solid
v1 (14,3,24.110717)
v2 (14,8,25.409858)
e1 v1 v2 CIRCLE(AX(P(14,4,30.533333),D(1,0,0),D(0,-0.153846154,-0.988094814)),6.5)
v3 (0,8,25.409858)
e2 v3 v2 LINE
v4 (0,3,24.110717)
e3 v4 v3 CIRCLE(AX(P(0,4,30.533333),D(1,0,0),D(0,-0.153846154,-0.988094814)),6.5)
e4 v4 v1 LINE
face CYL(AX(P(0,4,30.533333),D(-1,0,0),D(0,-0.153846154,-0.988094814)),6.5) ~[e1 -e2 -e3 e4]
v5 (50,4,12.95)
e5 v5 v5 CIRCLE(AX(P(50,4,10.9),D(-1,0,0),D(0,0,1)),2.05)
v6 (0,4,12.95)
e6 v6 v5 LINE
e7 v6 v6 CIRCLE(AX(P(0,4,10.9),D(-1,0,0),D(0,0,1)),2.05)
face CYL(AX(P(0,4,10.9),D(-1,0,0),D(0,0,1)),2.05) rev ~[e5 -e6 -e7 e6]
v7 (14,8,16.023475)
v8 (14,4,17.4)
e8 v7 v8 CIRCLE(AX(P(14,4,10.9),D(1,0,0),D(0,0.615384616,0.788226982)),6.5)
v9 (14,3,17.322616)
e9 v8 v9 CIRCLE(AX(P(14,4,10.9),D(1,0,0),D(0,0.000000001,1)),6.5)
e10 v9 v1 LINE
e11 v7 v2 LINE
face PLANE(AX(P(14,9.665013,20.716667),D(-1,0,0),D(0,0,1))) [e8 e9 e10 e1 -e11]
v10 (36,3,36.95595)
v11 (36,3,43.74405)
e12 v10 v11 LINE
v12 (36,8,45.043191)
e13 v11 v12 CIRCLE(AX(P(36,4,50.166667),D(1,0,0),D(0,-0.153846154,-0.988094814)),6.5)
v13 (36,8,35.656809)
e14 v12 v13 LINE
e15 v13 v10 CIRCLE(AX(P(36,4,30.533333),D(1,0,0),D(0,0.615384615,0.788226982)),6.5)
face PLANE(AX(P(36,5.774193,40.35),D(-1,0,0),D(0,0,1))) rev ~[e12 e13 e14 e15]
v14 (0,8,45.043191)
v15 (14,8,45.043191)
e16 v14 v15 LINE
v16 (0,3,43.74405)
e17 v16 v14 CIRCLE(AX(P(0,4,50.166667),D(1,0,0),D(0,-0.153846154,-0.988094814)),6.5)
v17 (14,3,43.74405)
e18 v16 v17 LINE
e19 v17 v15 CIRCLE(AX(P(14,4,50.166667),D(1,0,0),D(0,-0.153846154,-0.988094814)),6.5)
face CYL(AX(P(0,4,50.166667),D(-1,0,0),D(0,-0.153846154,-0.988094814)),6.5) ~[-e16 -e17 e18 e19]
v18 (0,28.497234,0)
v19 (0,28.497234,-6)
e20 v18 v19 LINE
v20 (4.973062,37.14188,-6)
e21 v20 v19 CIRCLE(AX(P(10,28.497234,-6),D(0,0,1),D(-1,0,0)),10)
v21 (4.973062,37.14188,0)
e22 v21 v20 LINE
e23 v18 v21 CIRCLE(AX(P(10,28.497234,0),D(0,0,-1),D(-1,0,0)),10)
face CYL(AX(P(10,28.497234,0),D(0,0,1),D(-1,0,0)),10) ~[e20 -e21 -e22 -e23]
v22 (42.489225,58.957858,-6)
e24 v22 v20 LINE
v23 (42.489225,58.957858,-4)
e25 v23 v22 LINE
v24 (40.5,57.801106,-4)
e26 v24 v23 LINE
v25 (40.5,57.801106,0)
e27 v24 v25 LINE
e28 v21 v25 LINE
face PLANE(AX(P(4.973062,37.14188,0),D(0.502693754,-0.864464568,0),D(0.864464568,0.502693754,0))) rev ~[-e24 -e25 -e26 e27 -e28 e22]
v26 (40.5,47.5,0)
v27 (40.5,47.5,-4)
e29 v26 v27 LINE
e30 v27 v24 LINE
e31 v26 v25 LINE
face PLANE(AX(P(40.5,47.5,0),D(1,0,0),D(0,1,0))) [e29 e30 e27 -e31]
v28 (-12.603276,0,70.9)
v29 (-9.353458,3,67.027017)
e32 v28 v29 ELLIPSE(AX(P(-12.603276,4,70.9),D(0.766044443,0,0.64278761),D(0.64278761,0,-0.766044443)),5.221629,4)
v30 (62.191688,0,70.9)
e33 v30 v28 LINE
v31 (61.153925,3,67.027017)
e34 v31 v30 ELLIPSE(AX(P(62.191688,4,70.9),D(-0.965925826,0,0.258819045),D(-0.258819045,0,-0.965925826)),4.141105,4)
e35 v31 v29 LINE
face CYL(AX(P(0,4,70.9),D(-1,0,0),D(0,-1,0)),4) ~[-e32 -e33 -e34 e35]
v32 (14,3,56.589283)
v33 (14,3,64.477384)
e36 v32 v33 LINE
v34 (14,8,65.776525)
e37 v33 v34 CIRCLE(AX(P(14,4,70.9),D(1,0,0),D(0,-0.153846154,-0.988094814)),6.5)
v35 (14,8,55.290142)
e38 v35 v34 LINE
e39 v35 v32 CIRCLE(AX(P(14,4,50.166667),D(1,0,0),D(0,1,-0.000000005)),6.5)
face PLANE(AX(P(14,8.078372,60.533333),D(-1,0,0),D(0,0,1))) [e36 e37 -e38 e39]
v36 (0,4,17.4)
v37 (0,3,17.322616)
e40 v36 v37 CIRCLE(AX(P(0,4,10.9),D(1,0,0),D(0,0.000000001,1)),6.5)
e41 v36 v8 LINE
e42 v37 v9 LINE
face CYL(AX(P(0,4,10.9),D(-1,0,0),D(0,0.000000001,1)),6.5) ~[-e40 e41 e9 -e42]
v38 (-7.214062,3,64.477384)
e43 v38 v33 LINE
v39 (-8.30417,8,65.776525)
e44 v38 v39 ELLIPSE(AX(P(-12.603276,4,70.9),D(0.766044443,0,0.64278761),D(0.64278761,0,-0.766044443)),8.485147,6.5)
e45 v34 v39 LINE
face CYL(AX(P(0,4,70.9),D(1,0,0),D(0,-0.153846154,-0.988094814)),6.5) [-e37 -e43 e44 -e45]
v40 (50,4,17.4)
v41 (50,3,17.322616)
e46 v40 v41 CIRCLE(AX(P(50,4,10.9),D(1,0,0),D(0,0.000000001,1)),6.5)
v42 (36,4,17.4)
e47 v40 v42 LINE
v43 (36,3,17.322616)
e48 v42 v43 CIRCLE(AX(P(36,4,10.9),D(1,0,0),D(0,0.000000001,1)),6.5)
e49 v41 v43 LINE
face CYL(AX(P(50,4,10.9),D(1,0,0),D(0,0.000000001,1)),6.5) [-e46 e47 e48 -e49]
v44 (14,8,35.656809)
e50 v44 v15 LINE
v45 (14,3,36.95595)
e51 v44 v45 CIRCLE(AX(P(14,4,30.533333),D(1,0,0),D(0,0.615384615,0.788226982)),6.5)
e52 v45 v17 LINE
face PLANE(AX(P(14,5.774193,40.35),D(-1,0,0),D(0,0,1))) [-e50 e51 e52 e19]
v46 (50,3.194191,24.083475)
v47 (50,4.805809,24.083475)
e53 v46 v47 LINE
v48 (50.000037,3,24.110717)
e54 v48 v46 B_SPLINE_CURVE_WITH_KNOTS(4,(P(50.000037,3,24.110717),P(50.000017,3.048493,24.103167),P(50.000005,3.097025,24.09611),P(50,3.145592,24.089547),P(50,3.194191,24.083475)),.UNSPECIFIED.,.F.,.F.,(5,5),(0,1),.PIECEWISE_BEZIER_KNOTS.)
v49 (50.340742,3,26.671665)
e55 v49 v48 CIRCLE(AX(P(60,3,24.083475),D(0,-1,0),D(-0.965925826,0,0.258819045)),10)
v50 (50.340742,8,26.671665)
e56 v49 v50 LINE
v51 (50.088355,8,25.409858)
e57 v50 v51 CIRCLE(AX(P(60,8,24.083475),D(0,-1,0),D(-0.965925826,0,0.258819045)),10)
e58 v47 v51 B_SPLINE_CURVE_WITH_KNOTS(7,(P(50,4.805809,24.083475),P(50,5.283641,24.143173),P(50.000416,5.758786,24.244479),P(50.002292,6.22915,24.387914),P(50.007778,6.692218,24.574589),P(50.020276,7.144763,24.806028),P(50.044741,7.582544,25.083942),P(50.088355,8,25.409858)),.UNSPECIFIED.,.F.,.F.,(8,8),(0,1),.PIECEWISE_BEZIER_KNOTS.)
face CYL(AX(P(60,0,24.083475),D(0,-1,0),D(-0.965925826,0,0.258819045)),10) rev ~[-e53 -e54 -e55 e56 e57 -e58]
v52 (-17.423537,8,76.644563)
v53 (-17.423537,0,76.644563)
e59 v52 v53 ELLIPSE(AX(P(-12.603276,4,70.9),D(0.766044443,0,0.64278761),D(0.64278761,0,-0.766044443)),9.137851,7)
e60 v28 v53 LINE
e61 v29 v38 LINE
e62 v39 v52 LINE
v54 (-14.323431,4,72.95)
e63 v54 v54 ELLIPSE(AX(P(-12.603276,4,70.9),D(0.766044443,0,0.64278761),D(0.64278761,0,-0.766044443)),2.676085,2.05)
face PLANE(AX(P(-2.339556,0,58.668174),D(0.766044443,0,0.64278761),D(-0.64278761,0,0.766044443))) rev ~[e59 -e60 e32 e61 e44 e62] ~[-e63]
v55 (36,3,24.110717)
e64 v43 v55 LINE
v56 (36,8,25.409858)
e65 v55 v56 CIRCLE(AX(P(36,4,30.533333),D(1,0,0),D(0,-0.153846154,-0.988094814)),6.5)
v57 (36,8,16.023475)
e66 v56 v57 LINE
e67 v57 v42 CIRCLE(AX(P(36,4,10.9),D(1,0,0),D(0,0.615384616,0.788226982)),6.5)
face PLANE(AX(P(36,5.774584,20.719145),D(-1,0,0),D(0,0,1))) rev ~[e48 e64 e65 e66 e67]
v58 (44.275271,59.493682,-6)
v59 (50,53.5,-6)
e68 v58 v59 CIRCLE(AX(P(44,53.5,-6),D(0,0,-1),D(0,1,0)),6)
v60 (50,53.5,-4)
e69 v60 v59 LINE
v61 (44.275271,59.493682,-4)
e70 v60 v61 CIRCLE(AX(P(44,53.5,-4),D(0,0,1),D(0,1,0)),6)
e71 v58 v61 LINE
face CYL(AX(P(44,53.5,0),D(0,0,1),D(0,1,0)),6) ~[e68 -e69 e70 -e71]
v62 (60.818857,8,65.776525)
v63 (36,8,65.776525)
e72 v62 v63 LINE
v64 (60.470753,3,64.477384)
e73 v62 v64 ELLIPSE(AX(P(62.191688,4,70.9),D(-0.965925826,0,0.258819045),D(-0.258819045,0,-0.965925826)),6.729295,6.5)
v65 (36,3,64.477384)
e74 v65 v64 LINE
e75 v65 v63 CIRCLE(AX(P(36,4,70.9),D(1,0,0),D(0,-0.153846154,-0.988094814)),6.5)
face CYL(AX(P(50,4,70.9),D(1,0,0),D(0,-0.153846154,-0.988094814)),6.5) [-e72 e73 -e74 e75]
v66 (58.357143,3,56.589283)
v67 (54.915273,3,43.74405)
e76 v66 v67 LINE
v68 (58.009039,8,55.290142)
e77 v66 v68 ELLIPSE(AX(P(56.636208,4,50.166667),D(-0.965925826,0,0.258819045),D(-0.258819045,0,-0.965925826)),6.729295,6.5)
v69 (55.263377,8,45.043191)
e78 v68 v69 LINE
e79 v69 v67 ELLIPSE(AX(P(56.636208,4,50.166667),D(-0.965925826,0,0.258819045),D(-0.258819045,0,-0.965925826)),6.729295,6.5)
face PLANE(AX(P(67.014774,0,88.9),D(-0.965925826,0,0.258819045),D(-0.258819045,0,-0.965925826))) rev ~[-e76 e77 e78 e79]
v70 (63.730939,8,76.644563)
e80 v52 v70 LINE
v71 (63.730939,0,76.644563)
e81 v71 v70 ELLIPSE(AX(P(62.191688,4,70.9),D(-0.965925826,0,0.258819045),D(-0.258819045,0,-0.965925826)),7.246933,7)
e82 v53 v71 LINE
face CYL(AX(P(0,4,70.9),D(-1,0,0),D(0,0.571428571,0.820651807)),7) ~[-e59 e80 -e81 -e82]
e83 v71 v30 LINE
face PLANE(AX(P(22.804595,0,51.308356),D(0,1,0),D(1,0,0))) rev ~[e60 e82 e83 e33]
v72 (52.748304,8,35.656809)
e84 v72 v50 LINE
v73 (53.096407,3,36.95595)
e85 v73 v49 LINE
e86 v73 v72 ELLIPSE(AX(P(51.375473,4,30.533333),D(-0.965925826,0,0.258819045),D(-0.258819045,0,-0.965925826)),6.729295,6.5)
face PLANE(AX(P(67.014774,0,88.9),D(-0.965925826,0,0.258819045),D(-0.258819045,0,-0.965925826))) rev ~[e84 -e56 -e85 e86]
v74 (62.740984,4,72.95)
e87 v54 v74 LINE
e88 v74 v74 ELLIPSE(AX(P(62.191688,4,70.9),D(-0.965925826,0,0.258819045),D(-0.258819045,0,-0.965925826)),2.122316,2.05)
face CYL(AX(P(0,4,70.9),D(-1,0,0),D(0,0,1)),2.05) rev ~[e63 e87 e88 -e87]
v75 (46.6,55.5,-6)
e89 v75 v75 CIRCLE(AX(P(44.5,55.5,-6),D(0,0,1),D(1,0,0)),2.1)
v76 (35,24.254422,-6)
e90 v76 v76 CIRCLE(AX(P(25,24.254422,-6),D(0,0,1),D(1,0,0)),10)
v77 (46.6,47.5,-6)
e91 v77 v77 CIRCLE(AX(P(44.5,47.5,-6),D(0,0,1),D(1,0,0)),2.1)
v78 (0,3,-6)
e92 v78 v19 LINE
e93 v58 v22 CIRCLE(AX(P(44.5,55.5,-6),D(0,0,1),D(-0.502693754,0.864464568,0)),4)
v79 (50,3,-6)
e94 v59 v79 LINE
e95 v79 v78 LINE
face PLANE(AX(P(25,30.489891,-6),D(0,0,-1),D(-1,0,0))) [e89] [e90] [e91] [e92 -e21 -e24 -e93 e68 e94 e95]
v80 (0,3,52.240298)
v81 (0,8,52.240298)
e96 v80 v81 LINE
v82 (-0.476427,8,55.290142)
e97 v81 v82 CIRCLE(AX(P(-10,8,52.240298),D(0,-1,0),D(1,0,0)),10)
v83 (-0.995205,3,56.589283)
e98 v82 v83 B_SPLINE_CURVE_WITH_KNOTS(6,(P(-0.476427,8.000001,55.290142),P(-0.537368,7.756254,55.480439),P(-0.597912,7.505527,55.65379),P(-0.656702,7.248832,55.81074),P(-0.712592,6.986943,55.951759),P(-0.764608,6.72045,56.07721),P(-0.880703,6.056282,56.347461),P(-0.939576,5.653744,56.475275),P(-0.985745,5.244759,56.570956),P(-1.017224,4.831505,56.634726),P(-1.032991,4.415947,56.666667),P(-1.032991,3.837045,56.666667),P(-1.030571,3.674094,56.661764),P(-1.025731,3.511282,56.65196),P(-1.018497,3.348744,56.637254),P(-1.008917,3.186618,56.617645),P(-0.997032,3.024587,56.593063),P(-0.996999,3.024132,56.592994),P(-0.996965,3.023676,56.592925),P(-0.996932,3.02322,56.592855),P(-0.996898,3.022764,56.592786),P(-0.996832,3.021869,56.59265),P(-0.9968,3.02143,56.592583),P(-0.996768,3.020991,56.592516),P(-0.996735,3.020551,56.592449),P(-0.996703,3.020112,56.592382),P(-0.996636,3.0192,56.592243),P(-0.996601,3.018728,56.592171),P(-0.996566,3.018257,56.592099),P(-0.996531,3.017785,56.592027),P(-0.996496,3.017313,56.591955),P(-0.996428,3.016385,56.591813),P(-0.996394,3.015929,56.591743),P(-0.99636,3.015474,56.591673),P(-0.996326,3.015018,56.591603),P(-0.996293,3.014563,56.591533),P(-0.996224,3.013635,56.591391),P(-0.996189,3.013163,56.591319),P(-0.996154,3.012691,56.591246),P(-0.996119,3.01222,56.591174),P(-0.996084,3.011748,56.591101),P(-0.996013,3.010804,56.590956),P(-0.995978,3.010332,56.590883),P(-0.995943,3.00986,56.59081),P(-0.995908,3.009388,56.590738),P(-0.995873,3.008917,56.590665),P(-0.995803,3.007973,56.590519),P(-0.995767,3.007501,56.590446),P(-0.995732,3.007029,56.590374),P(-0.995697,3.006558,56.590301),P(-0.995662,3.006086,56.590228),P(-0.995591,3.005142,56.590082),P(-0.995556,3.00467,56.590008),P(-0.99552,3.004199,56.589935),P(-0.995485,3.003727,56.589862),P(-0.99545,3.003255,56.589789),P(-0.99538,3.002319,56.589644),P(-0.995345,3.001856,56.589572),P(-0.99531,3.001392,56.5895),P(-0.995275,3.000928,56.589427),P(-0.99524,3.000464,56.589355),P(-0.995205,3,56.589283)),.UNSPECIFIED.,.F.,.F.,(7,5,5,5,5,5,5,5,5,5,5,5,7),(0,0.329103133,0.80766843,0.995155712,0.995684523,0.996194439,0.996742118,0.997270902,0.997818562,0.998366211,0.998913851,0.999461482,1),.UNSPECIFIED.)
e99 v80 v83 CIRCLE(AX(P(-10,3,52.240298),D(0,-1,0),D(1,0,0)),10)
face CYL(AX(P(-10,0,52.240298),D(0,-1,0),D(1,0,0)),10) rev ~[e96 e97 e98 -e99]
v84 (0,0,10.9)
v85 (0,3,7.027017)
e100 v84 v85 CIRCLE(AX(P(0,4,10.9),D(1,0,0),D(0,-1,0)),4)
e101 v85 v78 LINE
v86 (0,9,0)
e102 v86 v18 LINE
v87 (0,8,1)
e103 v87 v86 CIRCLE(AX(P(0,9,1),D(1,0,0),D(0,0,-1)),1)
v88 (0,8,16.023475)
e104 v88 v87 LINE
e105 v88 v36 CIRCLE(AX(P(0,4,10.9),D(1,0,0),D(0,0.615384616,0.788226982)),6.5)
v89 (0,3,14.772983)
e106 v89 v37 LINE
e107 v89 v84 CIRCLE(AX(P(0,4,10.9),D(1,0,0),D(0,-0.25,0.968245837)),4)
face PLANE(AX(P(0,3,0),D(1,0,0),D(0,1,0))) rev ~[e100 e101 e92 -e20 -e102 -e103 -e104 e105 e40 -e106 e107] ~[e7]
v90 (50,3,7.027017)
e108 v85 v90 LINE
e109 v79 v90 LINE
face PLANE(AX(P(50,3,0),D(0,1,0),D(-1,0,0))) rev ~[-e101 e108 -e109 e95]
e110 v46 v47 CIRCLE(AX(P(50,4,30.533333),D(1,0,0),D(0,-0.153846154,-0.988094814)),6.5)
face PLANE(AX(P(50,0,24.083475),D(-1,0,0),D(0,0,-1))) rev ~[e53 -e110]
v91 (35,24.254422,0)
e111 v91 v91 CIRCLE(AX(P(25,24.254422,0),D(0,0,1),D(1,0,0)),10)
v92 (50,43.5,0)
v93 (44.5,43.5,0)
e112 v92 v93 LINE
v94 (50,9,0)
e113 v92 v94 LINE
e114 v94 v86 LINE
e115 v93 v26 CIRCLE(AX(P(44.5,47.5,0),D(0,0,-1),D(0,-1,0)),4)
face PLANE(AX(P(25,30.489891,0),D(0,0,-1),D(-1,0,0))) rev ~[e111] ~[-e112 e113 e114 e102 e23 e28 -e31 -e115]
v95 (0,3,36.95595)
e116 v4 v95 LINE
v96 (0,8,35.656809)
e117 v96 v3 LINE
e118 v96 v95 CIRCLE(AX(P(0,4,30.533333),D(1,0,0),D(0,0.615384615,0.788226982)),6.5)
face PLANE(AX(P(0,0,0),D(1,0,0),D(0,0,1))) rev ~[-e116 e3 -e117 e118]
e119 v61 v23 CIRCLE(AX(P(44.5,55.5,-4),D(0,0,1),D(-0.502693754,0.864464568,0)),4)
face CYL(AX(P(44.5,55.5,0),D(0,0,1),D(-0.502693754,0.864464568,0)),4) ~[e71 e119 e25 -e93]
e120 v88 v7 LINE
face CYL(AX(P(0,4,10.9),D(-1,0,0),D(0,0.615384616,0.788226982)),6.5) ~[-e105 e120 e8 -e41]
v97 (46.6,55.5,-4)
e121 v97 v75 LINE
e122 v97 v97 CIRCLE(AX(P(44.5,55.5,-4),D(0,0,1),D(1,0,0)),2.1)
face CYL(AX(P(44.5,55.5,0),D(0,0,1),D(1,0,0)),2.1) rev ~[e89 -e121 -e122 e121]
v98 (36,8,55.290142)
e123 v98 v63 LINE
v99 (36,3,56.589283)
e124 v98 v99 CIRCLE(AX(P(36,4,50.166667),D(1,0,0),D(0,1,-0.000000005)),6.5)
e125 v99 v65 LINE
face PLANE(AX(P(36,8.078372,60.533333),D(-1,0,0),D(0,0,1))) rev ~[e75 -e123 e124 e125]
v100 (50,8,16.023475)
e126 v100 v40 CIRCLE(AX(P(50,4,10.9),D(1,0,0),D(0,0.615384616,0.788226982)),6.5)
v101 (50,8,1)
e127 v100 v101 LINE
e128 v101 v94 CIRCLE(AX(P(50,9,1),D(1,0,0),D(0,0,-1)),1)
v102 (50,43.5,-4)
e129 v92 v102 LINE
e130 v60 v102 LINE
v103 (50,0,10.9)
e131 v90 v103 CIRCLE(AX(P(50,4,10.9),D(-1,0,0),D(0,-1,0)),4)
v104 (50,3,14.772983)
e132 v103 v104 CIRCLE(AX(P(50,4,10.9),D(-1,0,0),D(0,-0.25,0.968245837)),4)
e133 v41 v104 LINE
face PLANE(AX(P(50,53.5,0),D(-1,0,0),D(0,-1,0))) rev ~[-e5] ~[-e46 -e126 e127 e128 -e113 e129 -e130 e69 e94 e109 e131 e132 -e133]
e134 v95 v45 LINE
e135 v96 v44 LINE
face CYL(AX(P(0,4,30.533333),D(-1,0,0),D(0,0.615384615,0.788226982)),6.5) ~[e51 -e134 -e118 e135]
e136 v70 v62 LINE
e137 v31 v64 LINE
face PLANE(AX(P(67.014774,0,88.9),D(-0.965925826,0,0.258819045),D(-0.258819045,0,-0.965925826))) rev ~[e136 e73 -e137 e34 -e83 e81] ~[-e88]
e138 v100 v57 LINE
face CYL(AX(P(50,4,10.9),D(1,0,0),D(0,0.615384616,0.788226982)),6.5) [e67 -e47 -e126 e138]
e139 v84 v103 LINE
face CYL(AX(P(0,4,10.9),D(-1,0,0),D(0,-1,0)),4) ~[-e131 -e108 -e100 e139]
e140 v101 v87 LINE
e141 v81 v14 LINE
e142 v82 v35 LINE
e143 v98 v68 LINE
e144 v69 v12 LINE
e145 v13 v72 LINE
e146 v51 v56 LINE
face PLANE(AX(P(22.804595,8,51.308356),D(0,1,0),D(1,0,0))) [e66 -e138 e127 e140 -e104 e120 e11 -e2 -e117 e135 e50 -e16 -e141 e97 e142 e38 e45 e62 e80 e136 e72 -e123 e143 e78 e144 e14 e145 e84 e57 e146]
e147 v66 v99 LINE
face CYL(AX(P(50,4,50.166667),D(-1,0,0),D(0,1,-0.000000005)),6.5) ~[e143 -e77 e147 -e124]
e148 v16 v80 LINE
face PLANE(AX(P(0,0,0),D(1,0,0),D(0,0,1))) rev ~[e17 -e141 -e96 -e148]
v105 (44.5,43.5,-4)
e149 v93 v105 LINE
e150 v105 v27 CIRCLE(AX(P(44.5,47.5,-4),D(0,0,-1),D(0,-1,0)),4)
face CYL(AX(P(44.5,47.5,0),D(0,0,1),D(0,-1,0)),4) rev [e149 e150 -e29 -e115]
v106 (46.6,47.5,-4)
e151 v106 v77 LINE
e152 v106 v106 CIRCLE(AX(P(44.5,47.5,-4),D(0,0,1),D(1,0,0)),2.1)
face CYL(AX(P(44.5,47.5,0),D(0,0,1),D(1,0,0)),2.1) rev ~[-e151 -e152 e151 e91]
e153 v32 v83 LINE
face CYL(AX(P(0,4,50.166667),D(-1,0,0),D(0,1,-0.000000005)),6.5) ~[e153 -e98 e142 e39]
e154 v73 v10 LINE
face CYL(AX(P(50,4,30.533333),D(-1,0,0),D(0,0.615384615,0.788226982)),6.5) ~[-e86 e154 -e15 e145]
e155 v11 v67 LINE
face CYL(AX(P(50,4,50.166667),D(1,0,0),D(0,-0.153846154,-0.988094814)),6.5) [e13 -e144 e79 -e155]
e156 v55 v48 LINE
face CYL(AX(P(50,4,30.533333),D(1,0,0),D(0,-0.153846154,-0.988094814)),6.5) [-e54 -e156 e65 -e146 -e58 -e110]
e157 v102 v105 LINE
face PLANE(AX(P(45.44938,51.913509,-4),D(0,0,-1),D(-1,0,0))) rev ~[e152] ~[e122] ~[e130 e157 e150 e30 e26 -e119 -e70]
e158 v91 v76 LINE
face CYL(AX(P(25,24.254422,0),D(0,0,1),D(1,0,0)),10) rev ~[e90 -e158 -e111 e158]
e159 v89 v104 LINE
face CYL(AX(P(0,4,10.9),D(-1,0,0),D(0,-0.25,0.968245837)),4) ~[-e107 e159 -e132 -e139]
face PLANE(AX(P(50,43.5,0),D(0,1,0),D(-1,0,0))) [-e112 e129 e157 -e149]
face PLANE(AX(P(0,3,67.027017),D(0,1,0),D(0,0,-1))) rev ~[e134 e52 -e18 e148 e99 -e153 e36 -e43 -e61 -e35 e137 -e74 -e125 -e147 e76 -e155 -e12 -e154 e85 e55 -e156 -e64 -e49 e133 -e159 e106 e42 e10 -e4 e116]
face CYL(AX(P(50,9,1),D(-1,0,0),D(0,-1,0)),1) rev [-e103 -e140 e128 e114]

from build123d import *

# Parameters (mm, degrees)
BOSS_EXTRUDE1_DEPTH     = 8
SKETCH2_R               = 2.05
CUT_EXTRUDE1_DEPTH      = 28.707069821
CUT_EXTRUDE1_DEPTH_BACK = 68.014773719
CUT_EXTRUDE2_DEPTH      = 28.707069821
CUT_EXTRUDE2_DEPTH_BACK = 68.014773719
CUT_EXTRUDE3_DEPTH      = 19.476973879
CUT_EXTRUDE3_DEPTH_BACK = 14
CUT_EXTRUDE4_START      = -50
CUT_EXTRUDE4_DEPTH      = 14
CUT_EXTRUDE4_DEPTH_BACK = 15.067332603
BOSS_EXTRUDE2_DEPTH     = 6
FILLET8_R               = 1
SKETCH7_R               = 2.1
SKETCH7_R_2             = 10
CUT_EXTRUDE5_DEPTH      = 7
CUT_EXTRUDE6_DEPTH      = 4


with BuildPart() as part:
    # Sketch1 → Boss-Extrude1 (new body)
    with BuildSketch(Plane(origin=(0, 0, 0), x_dir=(1, 0, 0), z_dir=(0, 1, 0))):
        with BuildLine():
            Line((0, 0), (0, -52.240297657))
            ThreePointArc((0, -52.240297657), (-0.603073792, -55.660499091), (-2.339555569, -58.668173754))
            Line((-2.339555569, -58.668173754), (-27.707069821, -88.9))
            Line((-27.707069821, -88.9), (67.014773719, -88.9))
            Line((67.014773719, -88.9), (50.340741737, -26.671665475))
            ThreePointArc((50.340741737, -26.671665475), (50.085551386, -25.388736946), (50, -24.083475024))
            Line((50, -24.083475024), (50, 0))
            Line((50, 0), (0, 0))
        make_face()
    extrude(amount=BOSS_EXTRUDE1_DEPTH)

    # Sketch2 → Cut-Extrude1 (cut, two sides)
    with BuildSketch(Plane.ZY) as cut_extrude1_sk:
        with Locations((10.9, 4)):
            Circle(SKETCH2_R)
        with Locations((70.9, 4)):
            Circle(SKETCH2_R)
    extrude(amount=CUT_EXTRUDE1_DEPTH, mode=Mode.SUBTRACT)
    extrude(cut_extrude1_sk.sketch, amount=-CUT_EXTRUDE1_DEPTH_BACK, mode=Mode.SUBTRACT)

    # Sketch4 → Cut-Extrude2 (cut, two sides)
    with BuildSketch(Plane.ZY) as cut_extrude2_sk:
        with BuildLine():
            Line((67.027016654, 3), (14.772983346, 3))
            ThreePointArc((14.772983346, 3), (13.349489743, 0.83772234), (10.9, 0))
            Line((10.9, 0), (70.9, 0))
            ThreePointArc((70.9, 0), (68.450510257, 0.83772234), (67.027016654, 3))
        make_face()
        with BuildLine():
            Line((0, 0), (10.9, 0))
            ThreePointArc((10.9, 0), (8.450510257, 0.83772234), (7.027016654, 3))
            Line((7.027016654, 3), (0, 3))
            Line((0, 3), (0, 0))
        make_face()
        with BuildLine():
            ThreePointArc((76.644562647, 8), (77.9, 4), (76.644562647, 0))
            Line((76.644562647, 0), (88.9, 0))
            Line((88.9, 0), (88.9, 8))
            Line((88.9, 8), (76.644562647, 8))
        make_face()
    extrude(amount=CUT_EXTRUDE2_DEPTH, mode=Mode.SUBTRACT)
    extrude(cut_extrude2_sk.sketch, amount=-CUT_EXTRUDE2_DEPTH_BACK, mode=Mode.SUBTRACT)

    # Sketch5 → Cut-Extrude3 (cut, two sides)
    with BuildSketch(Plane.ZY) as cut_extrude3_sk:
        with BuildLine():
            Line((30.53333333, 10.5), (10.9, 10.5))
            ThreePointArc((10.9, 10.5), (13.750438563, 9.841660723), (16.023475383, 8))
            Line((16.023475383, 8), (25.409857947, 8))
            ThreePointArc((25.409857947, 8), (27.682894767, 9.841660723), (30.53333333, 10.5))
        make_face()
        with BuildLine():
            Line((25.409857947, 8), (16.023475383, 8))
            ThreePointArc((16.023475383, 8), (17.046242348, 6.115113473), (17.4, 4))
            ThreePointArc((17.4, 4), (17.380625197, 3.498505175), (17.322616289, 3))
            Line((17.322616289, 3), (24.110717041, 3))
            ThreePointArc((24.110717041, 3), (24.242223871, 5.634607529), (25.409857947, 8))
        make_face()
        with BuildLine():
            Line((45.043191277, 8), (35.656808713, 8))
            ThreePointArc((35.656808713, 8), (36.824442789, 5.634607529), (36.955949619, 3))
            Line((36.955949619, 3), (43.744050371, 3))
            ThreePointArc((43.744050371, 3), (43.875557201, 5.634607529), (45.043191277, 8))
        make_face()
        with BuildLine():
            Line((50.166666628, 10.5), (30.53333333, 10.5))
            ThreePointArc((30.53333333, 10.5), (33.383771893, 9.841660723), (35.656808713, 8))
            Line((35.656808713, 8), (45.043191277, 8))
            ThreePointArc((45.043191277, 8), (47.316228083, 9.841660716), (50.166666628, 10.5))
        make_face()
        with BuildLine():
            Line((70.9, 10.5), (50.166666628, 10.5))
            ThreePointArc((50.166666628, 10.5), (55.103771064, 8.227883644), (56.589282949, 3))
            Line((56.589282949, 3), (64.477383711, 3))
            ThreePointArc((64.477383711, 3), (65.962895585, 8.227883631), (70.9, 10.5))
        make_face()
    extrude(amount=CUT_EXTRUDE3_DEPTH, mode=Mode.SUBTRACT)
    extrude(cut_extrude3_sk.sketch, amount=-CUT_EXTRUDE3_DEPTH_BACK, mode=Mode.SUBTRACT)

    # Sketch5<3> → Cut-Extrude4 (cut, two sides)
    with BuildSketch(Plane.ZY.offset(CUT_EXTRUDE4_START)) as cut_extrude4_sk:
        with BuildLine():
            Line((25.409857947, 8), (16.023475383, 8))
            ThreePointArc((16.023475383, 8), (17.046242348, 6.115113473), (17.4, 4))
            ThreePointArc((17.4, 4), (17.380625197, 3.498505175), (17.322616289, 3))
            Line((17.322616289, 3), (24.110717041, 3))
            ThreePointArc((24.110717041, 3), (24.242223871, 5.634607529), (25.409857947, 8))
        make_face()
        with BuildLine():
            Line((45.043191277, 8), (35.656808713, 8))
            ThreePointArc((35.656808713, 8), (36.824442789, 5.634607529), (36.955949619, 3))
            Line((36.955949619, 3), (43.744050371, 3))
            ThreePointArc((43.744050371, 3), (43.875557201, 5.634607529), (45.043191277, 8))
        make_face()
        with BuildLine():
            Line((70.9, 10.5), (50.166666628, 10.5))
            ThreePointArc((50.166666628, 10.5), (55.103771064, 8.227883644), (56.589282949, 3))
            Line((56.589282949, 3), (64.477383711, 3))
            ThreePointArc((64.477383711, 3), (65.962895585, 8.227883631), (70.9, 10.5))
        make_face()
    extrude(amount=CUT_EXTRUDE4_DEPTH, mode=Mode.SUBTRACT)
    extrude(cut_extrude4_sk.sketch, amount=-CUT_EXTRUDE4_DEPTH_BACK, mode=Mode.SUBTRACT)

    # Sketch6 → Boss-Extrude2 (add)
    with BuildSketch(Plane(origin=(0, 0, 0), x_dir=(-1, 0, 0), z_dir=(0, 0, -1))):
        with BuildLine():
            Line((-50, 3), (0, 3))
            Line((0, 3), (0, 53.5))
            ThreePointArc((0, 53.5), (-1.757359313, 57.742640687), (-6, 59.5))
            Line((-6, 59.5), (-44, 59.5))
            ThreePointArc((-44, 59.5), (-48.242640687, 57.742640687), (-50, 53.5))
            Line((-50, 53.5), (-50, 3))
        make_face()
    extrude(amount=BOSS_EXTRUDE2_DEPTH)

    # Fillet8
    fillet8_edges = [part.edges().sort_by_distance(p)[0] for p in [
        (25, 8, 0),
    ]]
    fillet(fillet8_edges, radius=FILLET8_R)

    # Sketch7 → Cut-Extrude5 (cut, through all)
    with BuildSketch(Plane.XY):
        with BuildLine():
            ThreePointArc((0, 28.497233906), (1.331973251, 33.483746944), (4.973062456, 37.141879586))
            Line((4.973062456, 37.141879586), (42.489224982, 58.957858272))
            ThreePointArc((42.489224982, 58.957858272), (43.458710676, 59.362087071), (44.5, 59.5))
            Line((44.5, 59.5), (0, 59.5))
            Line((0, 59.5), (0, 28.497233906))
        make_face()
        with Locations((44.5, 47.5)):
            Circle(SKETCH7_R)
        with Locations((44.5, 55.5)):
            Circle(SKETCH7_R)
        with Locations((25, 24.254421738)):
            Circle(SKETCH7_R_2)
    extrude(amount=-CUT_EXTRUDE5_DEPTH, mode=Mode.SUBTRACT)

    # Sketch8 → Cut-Extrude6 (cut)
    with BuildSketch(Plane.XY):
        with BuildLine():
            Line((40.5, 47.5), (40.5, 55.5))
            Line((40.5, 55.5), (40.5, 57.801106438))
            Line((40.5, 57.801106438), (40.5, 59.687082669))
            Line((40.5, 59.687082669), (50, 59.687082669))
            Line((50, 59.687082669), (50, 43.5))
            Line((50, 43.5), (44.5, 43.5))
            ThreePointArc((44.5, 43.5), (41.671572875, 44.671572875), (40.5, 47.5))
        make_face()
    extrude(amount=-CUT_EXTRUDE6_DEPTH, mode=Mode.SUBTRACT)


solid = part.part
